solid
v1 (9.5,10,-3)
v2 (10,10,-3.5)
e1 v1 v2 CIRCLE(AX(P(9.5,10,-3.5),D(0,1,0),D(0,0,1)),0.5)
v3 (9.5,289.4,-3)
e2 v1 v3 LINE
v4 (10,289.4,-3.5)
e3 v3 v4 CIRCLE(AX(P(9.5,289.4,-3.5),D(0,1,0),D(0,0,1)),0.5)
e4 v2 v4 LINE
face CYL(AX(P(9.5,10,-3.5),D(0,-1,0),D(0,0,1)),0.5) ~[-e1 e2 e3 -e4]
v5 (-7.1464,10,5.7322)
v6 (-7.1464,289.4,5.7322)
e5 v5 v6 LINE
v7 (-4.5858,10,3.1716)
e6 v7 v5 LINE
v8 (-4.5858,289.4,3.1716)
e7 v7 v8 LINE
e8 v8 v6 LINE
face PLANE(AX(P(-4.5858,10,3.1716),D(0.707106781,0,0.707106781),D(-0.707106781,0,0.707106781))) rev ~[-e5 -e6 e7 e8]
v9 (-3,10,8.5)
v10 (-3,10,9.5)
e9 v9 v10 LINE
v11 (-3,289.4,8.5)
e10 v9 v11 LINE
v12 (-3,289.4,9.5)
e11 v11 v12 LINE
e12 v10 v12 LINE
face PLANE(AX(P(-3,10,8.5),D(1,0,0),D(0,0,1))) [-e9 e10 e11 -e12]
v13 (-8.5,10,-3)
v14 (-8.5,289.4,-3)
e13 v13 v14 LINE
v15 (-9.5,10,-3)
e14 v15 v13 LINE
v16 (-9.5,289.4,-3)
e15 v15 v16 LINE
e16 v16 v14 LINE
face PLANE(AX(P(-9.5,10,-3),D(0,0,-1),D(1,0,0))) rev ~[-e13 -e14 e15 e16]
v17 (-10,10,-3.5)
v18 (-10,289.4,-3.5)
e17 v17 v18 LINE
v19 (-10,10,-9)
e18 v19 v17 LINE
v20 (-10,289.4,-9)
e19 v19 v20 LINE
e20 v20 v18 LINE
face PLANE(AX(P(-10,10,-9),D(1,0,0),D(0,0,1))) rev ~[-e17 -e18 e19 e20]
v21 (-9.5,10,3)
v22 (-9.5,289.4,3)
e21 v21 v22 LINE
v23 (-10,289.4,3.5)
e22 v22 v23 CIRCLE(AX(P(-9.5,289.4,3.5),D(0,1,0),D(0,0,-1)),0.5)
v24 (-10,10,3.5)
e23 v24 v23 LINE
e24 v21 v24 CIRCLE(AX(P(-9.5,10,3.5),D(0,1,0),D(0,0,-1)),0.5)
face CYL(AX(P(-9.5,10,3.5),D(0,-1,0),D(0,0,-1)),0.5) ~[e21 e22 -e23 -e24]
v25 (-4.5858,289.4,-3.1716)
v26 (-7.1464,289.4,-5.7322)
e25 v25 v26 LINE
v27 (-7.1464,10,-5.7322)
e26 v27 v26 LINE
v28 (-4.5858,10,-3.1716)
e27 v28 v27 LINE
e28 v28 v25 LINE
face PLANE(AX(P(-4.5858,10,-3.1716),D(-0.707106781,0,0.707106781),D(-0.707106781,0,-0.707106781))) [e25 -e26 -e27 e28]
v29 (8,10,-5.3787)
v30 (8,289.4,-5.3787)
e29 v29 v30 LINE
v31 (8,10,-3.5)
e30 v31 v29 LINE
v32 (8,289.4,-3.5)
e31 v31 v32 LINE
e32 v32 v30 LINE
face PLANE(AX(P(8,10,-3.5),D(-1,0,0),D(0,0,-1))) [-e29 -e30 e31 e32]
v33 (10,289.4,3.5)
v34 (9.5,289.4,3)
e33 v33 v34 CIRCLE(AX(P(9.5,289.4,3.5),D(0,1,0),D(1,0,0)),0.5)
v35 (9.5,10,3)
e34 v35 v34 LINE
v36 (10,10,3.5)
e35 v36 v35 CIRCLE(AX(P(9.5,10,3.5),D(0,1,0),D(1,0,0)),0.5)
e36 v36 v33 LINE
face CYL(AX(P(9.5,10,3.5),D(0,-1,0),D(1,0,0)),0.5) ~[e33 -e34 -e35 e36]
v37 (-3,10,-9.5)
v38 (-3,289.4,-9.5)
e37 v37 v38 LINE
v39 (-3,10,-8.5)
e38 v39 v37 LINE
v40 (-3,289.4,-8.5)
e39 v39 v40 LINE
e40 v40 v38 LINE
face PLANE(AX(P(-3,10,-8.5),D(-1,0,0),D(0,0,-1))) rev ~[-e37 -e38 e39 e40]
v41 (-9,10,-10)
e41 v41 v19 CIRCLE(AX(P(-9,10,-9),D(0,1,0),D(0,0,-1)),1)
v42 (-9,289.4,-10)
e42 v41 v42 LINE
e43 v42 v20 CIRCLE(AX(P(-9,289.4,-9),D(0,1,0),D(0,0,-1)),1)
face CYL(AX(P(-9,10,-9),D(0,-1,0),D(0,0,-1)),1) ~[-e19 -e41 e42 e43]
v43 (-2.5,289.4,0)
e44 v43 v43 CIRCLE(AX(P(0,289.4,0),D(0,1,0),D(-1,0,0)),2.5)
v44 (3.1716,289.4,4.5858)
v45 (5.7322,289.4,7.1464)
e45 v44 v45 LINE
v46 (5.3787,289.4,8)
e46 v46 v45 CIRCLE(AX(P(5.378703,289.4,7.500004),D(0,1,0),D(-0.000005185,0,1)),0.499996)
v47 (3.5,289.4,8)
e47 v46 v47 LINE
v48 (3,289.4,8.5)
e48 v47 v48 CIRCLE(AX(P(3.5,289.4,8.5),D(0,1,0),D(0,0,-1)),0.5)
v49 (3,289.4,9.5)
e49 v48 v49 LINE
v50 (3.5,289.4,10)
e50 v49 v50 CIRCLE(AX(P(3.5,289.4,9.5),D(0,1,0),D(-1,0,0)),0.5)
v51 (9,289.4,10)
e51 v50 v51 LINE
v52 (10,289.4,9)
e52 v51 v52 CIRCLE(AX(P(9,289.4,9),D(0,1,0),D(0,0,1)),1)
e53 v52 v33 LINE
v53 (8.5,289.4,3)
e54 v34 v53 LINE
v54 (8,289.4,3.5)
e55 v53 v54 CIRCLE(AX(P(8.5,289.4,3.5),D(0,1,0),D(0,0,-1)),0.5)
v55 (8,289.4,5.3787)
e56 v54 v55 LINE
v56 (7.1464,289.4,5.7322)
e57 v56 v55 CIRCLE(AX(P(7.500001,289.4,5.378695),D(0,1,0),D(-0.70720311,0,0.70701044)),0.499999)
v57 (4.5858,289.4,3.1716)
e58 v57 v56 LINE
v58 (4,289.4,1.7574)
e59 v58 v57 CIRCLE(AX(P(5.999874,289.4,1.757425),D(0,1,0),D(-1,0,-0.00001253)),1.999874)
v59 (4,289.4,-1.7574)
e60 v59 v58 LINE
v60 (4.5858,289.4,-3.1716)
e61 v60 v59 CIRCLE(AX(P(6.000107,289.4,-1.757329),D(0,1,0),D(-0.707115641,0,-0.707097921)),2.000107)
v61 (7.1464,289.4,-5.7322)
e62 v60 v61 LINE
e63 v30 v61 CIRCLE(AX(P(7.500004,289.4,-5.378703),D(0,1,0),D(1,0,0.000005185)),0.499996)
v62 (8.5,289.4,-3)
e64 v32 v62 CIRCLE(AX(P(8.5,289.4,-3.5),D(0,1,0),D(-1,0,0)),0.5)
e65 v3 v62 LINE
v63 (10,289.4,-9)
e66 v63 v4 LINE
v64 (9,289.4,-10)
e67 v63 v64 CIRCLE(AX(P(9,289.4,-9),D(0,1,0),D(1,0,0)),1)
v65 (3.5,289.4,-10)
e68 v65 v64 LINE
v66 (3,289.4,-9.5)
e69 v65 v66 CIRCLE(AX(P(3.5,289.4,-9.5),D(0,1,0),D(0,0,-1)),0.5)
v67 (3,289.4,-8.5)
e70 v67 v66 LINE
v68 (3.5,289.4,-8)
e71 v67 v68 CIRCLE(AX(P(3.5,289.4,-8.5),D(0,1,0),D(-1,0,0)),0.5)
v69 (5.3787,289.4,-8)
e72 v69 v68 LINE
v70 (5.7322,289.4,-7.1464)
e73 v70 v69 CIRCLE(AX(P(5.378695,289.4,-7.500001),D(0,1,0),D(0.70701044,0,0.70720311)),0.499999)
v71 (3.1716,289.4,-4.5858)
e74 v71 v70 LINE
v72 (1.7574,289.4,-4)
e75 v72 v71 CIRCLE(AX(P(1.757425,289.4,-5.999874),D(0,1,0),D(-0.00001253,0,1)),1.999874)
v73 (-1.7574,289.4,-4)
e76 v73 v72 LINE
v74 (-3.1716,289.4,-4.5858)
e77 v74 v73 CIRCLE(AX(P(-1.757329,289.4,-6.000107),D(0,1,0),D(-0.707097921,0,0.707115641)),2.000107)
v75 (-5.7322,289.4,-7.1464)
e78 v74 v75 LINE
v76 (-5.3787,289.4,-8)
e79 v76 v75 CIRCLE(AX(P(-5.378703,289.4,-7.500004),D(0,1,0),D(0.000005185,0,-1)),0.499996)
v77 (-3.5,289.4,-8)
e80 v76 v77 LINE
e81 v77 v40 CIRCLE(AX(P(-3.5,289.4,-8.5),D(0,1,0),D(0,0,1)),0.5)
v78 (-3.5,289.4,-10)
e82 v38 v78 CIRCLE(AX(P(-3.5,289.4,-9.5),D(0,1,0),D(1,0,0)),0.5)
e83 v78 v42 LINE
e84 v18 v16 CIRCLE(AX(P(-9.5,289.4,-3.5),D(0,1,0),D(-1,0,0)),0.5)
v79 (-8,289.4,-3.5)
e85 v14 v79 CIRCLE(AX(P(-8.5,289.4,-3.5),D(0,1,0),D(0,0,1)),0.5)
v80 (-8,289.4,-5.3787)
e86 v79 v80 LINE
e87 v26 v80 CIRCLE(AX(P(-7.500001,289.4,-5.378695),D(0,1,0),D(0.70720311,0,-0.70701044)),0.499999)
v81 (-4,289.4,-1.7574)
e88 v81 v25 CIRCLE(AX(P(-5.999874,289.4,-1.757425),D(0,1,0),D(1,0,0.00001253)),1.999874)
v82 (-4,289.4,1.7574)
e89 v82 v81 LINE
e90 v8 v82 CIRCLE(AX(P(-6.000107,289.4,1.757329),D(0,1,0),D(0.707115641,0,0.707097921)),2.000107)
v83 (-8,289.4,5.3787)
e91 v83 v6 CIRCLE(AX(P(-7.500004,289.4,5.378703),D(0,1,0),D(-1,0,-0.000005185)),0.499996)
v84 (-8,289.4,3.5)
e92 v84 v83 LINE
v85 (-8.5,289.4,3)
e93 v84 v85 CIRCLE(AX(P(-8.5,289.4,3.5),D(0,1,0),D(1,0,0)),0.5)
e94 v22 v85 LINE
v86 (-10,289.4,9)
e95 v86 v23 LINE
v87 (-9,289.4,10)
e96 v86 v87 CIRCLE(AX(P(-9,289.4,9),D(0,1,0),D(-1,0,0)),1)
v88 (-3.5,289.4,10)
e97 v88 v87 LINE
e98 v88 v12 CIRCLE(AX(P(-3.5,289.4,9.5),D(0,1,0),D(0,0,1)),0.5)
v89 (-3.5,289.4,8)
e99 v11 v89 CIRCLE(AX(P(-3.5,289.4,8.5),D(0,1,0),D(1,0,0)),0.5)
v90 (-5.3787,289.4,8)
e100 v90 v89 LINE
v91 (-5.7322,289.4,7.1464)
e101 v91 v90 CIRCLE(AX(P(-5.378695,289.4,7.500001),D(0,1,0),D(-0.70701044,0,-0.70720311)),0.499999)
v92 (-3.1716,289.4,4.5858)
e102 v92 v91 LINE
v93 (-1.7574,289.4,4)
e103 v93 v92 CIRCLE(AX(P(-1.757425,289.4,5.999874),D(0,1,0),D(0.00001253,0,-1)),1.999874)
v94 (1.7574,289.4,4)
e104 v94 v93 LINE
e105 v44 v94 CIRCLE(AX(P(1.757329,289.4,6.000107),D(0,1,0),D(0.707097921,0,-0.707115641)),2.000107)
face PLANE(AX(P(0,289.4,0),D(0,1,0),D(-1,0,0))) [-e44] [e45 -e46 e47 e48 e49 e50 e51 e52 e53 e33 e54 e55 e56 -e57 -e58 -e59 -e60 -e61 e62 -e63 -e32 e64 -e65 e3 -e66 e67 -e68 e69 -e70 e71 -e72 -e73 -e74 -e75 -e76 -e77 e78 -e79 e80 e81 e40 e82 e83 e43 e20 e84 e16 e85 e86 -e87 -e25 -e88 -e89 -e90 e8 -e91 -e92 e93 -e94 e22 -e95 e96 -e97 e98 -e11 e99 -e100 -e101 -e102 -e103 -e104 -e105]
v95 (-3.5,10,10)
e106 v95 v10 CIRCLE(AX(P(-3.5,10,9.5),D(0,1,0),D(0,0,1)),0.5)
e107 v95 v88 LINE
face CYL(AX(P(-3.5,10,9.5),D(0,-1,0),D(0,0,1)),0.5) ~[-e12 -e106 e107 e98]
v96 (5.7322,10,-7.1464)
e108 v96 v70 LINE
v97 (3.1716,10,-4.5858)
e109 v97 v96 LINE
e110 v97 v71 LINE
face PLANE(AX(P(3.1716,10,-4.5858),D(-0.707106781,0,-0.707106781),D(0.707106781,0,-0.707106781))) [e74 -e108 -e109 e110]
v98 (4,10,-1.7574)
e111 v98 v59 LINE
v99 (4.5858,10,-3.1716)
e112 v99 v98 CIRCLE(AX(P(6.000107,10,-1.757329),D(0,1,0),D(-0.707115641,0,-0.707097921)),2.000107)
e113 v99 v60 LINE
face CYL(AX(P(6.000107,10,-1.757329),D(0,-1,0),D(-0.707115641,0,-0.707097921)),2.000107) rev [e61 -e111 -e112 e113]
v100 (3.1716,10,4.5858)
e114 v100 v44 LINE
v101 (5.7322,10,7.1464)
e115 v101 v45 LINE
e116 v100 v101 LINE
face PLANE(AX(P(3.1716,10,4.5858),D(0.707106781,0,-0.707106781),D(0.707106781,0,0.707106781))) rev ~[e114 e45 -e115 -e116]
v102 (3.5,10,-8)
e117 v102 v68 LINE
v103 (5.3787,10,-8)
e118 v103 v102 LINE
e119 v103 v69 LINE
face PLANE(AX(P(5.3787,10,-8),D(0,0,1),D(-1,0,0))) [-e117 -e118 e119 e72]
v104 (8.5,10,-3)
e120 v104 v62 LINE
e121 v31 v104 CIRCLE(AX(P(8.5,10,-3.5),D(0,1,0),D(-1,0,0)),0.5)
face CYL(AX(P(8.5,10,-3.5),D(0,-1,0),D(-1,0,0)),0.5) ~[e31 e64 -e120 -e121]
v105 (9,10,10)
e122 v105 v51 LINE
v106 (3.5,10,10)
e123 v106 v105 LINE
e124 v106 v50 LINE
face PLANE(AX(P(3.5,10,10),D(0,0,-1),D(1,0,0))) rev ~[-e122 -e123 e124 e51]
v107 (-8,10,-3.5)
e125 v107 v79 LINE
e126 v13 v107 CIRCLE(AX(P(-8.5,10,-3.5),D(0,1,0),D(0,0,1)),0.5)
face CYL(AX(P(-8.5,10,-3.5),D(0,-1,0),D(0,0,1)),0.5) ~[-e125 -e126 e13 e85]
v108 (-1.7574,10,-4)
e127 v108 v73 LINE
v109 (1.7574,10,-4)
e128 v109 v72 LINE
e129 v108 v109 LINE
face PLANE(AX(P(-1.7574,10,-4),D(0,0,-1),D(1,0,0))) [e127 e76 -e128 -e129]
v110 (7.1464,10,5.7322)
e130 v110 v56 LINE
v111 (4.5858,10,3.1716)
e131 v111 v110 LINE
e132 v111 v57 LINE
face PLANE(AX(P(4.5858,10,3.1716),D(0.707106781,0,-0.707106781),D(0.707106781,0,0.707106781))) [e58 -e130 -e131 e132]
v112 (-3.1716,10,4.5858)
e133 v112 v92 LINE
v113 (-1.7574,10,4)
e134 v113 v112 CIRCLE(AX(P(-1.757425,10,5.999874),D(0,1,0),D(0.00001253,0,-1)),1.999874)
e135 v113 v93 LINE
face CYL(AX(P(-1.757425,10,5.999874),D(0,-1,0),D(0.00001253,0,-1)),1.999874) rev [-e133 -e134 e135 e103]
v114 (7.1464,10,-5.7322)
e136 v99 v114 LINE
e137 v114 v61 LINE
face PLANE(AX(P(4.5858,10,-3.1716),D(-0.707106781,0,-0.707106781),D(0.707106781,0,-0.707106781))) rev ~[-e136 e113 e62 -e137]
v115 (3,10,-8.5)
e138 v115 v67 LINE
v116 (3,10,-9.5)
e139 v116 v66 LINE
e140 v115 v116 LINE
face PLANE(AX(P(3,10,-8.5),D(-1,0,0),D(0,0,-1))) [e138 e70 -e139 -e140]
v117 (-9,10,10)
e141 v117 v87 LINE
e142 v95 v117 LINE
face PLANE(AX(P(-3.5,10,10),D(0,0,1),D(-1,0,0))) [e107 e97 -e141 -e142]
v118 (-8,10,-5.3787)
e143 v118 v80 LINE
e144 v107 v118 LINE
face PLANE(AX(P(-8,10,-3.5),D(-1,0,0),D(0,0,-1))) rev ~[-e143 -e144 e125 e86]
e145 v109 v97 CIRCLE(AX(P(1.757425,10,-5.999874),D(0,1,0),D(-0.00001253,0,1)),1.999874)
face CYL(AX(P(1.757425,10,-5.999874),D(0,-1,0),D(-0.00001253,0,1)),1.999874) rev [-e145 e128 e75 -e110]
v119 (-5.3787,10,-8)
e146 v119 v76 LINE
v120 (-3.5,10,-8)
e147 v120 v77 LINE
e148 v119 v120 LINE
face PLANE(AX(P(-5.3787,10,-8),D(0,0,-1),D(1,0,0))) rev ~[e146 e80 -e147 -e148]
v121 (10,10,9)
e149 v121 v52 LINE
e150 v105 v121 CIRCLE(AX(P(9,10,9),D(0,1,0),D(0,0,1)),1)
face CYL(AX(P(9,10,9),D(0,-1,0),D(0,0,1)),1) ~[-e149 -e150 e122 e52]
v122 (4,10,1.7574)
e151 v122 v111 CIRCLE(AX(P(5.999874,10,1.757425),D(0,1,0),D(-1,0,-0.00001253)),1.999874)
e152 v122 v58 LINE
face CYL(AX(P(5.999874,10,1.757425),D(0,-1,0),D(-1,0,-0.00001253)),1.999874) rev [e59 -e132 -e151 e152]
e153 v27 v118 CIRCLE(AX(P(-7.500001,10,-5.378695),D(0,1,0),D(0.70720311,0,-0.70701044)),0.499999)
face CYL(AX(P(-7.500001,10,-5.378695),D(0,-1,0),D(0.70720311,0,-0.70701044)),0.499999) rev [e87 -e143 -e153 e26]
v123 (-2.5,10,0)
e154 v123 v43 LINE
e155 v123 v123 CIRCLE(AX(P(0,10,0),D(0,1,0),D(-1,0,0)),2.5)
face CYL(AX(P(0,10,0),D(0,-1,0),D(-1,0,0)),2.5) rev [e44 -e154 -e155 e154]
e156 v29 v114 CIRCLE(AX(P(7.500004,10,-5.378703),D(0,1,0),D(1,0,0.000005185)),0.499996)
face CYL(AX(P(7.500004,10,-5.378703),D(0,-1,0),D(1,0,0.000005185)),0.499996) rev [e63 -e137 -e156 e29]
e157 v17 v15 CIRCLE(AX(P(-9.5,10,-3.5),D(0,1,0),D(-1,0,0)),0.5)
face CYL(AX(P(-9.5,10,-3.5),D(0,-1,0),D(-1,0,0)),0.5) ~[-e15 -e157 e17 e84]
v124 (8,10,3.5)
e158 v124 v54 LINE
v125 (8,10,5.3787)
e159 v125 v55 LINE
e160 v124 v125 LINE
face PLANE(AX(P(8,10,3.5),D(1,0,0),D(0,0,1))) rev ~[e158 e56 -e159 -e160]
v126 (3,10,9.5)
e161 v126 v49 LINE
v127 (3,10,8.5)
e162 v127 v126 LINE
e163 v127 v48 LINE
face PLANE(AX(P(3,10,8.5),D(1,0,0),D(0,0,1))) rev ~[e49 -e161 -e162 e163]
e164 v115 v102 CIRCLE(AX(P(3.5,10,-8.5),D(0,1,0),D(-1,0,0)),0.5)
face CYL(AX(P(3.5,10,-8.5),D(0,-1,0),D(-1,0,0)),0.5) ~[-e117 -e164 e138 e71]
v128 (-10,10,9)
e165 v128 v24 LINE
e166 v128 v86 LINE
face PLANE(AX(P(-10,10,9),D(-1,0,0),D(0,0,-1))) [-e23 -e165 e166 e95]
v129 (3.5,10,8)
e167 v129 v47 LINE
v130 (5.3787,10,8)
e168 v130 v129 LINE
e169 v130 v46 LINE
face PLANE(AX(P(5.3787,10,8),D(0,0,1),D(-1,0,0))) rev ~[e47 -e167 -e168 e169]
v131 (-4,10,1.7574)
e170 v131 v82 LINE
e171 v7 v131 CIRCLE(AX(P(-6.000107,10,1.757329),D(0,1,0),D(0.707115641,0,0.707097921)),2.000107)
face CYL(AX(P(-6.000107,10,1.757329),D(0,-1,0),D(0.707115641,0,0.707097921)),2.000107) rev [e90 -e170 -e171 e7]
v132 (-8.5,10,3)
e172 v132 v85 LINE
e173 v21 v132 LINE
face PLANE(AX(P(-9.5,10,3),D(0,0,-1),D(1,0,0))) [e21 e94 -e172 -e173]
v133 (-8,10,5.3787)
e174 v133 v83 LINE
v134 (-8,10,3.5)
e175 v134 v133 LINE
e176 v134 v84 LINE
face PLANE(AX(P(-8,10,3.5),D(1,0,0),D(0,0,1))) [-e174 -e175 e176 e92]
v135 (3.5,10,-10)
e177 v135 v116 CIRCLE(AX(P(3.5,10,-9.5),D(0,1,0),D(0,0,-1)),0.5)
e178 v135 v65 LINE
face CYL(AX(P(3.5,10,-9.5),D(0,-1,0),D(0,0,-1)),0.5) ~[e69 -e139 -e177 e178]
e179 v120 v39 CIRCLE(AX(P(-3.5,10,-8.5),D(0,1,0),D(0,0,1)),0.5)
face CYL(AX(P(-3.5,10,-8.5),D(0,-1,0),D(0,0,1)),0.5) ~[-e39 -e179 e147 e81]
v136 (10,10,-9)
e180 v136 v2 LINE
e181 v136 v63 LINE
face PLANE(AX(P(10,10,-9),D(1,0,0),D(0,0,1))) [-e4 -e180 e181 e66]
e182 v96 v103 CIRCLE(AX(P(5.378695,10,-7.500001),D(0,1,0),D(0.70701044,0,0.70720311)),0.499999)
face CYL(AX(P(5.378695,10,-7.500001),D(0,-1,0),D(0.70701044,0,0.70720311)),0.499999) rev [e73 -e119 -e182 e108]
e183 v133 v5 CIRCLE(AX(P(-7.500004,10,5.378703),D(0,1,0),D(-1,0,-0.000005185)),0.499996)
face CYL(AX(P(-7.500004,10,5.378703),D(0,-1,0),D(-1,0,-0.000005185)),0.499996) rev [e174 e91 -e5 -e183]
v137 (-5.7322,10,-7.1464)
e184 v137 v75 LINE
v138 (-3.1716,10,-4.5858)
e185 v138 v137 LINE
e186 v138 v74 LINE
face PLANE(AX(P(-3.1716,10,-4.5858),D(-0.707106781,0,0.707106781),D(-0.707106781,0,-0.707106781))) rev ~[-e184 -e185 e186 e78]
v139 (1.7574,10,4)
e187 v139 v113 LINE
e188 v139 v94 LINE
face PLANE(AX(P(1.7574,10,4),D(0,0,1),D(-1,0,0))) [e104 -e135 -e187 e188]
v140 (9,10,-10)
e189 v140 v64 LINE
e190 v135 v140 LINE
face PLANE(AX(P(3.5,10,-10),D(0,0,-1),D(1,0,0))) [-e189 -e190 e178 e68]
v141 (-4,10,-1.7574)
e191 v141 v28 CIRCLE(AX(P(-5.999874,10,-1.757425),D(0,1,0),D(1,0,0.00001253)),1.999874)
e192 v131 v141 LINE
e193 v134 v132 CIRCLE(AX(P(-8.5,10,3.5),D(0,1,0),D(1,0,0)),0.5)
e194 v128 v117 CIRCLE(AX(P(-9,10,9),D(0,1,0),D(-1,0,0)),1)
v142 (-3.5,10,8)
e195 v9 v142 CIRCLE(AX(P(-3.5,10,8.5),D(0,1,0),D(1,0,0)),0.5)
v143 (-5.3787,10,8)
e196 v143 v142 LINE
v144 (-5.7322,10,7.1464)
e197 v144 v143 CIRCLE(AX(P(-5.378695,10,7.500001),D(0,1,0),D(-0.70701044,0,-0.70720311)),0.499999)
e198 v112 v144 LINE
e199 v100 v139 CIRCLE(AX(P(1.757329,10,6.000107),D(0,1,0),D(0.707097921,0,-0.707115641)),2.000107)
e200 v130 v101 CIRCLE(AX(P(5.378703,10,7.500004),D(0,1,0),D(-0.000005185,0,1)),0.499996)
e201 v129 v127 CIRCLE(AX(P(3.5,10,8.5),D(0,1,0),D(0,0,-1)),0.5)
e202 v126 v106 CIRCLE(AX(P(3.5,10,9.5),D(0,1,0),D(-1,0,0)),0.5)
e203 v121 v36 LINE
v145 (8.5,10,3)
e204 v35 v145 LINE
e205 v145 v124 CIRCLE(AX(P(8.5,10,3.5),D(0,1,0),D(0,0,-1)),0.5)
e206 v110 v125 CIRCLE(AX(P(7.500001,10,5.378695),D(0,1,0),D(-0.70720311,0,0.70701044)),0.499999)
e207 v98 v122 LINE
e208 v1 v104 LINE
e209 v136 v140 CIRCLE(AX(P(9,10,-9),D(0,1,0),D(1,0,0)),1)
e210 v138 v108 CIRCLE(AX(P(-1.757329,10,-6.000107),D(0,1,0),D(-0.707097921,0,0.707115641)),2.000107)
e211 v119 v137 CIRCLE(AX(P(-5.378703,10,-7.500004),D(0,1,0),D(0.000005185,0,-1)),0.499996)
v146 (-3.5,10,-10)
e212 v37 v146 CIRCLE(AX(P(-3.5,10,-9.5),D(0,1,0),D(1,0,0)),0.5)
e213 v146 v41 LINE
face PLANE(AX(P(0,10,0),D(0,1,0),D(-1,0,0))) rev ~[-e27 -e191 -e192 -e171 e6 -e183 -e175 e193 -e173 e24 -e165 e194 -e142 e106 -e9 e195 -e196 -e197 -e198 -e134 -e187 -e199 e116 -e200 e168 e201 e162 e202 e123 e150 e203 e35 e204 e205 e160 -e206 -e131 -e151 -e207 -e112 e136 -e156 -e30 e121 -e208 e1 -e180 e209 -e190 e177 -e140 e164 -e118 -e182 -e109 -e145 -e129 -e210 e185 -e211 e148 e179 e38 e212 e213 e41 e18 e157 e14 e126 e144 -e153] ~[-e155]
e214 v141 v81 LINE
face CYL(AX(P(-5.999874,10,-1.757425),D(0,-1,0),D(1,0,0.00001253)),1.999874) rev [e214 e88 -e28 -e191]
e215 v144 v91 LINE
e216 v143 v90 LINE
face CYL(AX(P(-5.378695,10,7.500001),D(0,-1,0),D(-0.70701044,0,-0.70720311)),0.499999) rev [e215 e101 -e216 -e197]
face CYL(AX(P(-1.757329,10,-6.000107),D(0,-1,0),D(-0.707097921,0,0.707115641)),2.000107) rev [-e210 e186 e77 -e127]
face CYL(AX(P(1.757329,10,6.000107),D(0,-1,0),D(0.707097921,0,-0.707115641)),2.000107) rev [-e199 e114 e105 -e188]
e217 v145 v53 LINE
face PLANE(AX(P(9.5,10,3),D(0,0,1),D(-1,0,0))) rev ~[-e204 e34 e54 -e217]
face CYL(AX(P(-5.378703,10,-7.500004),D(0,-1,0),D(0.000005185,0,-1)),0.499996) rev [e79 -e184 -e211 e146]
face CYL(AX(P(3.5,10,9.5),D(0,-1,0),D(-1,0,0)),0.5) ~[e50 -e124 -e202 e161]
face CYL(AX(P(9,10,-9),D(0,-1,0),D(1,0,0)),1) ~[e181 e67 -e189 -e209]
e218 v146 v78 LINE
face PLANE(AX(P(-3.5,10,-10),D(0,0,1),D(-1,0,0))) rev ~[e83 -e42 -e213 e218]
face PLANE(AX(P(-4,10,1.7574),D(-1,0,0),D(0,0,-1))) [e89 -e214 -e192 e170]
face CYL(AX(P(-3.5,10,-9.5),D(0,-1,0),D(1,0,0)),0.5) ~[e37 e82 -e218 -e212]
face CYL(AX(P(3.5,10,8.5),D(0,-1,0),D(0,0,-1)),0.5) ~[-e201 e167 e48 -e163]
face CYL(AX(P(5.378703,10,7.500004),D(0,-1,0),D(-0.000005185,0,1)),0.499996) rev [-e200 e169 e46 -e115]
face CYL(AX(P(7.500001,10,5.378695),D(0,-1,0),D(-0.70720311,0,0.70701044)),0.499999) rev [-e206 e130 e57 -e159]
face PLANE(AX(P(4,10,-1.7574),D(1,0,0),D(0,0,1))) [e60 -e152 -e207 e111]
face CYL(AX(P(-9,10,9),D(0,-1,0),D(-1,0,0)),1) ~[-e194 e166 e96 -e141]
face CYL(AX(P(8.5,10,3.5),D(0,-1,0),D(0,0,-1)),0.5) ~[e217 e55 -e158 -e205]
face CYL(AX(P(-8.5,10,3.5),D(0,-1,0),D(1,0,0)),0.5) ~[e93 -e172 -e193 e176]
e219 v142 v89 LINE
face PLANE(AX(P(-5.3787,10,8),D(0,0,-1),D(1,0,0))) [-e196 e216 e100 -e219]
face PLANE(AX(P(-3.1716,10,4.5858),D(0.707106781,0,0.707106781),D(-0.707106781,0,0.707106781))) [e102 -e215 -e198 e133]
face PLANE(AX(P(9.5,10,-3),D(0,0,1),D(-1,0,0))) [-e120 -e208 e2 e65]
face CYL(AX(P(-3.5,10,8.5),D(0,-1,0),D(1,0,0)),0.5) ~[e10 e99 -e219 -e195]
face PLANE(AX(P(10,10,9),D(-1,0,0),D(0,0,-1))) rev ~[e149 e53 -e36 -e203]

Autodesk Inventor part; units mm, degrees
ref_plane "Start Plane" through (0, 10, 0) normal (0, 1, 0) x (-1, 0, 0)
ref_plane "End Plane" through (0, 289.4, 0) normal (0, 1, 0) x (-1, 0, 0)
sketch "Sketch" plane through (0, 0, 0) normal (0, 1, 0) x (-1, 0, 0)
  line L0 (-1.7574, 4) -> (1.7574, 4)
  line L1 (4, 1.7574) -> (4, -1.7574)
  line L2 (1.7574, -4) -> (-1.7574, -4)
  line L3 (-4, -1.7574) -> (-4, 1.7574)
  line L4 (4.5858, -3.1716) -> (7.1464, -5.7322)
  line L5 (3.1716, -4.5858) -> (5.7322, -7.1464)
  line L6 (5.3787, -8) -> (3.5, -8)
  line L7 (3, -8.5) -> (3, -9.5)
  line L8 (3.5, -10) -> (9, -10)
  line L9 (10, -9) -> (10, -3.5)
  line L10 (9.5, -3) -> (8.5, -3)
  line L11 (8, -3.5) -> (8, -5.3787)
  line L12 (4, 0) -> (-4, 0) construction
  line L13 (0, -4) -> (0, 4) construction
  arc A0 (4, -1.7574) -> (4.5858, -3.1716) centre (6, -1.7574) ccw
  arc A1 (3.1716, -4.5858) -> (1.7574, -4) centre (1.7574, -6) ccw
  arc A2 (3.5, -8) -> (3, -8.5) centre (3.5, -8.5) ccw
  arc A3 (3, -9.5) -> (3.5, -10) centre (3.5, -9.5) ccw
  arc A4 (10, -3.5) -> (9.5, -3) centre (9.5, -3.5) ccw
  arc A5 (8.5, -3) -> (8, -3.5) centre (8.5, -3.5) ccw
  arc A6 (7.1464, -5.7322) -> (8, -5.3787) centre (7.5, -5.3787) ccw
  arc A7 (5.3787, -8) -> (5.7322, -7.1464) centre (5.3787, -7.5) ccw
  arc A8 (9, -10) -> (10, -9) centre (9, -9) ccw
  line L14 (-4.5858, -3.1716) -> (-7.1464, -5.7322)
  line L15 (-3.1716, -4.5858) -> (-5.7322, -7.1464)
  line L16 (-5.3787, -8) -> (-3.5, -8)
  line L17 (-3, -8.5) -> (-3, -9.5)
  line L18 (-3.5, -10) -> (-9, -10)
  line L19 (-10, -9) -> (-10, -3.5)
  line L20 (-9.5, -3) -> (-8.5, -3)
  line L21 (-8, -3.5) -> (-8, -5.3787)
  arc A9 (-4.5858, -3.1716) -> (-4, -1.7574) centre (-6, -1.7574) ccw
  arc A10 (-1.7574, -4) -> (-3.1716, -4.5858) centre (-1.7574, -6) ccw
  arc A11 (-3, -8.5) -> (-3.5, -8) centre (-3.5, -8.5) ccw
  arc A12 (-3.5, -10) -> (-3, -9.5) centre (-3.5, -9.5) ccw
  arc A13 (-9.5, -3) -> (-10, -3.5) centre (-9.5, -3.5) ccw
  arc A14 (-8, -3.5) -> (-8.5, -3) centre (-8.5, -3.5) ccw
  arc A15 (-8, -5.3787) -> (-7.1464, -5.7322) centre (-7.5, -5.3787) ccw
  arc A16 (-5.7322, -7.1464) -> (-5.3787, -8) centre (-5.3787, -7.5) ccw
  arc A17 (-10, -9) -> (-9, -10) centre (-9, -9) ccw
  line L22 (4.5858, 3.1716) -> (7.1464, 5.7322)
  line L23 (3.1716, 4.5858) -> (5.7322, 7.1464)
  line L24 (5.3787, 8) -> (3.5, 8)
  line L25 (3, 8.5) -> (3, 9.5)
  line L26 (3.5, 10) -> (9, 10)
  line L27 (10, 9) -> (10, 3.5)
  line L28 (9.5, 3) -> (8.5, 3)
  line L29 (8, 3.5) -> (8, 5.3787)
  arc A18 (4.5858, 3.1716) -> (4, 1.7574) centre (6, 1.7574) ccw
  arc A19 (1.7574, 4) -> (3.1716, 4.5858) centre (1.7574, 6) ccw
  arc A20 (3, 8.5) -> (3.5, 8) centre (3.5, 8.5) ccw
  arc A21 (3.5, 10) -> (3, 9.5) centre (3.5, 9.5) ccw
  arc A22 (9.5, 3) -> (10, 3.5) centre (9.5, 3.5) ccw
  arc A23 (8, 3.5) -> (8.5, 3) centre (8.5, 3.5) ccw
  arc A24 (8, 5.3787) -> (7.1464, 5.7322) centre (7.5, 5.3787) ccw
  arc A25 (5.7322, 7.1464) -> (5.3787, 8) centre (5.3787, 7.5) ccw
  arc A26 (10, 9) -> (9, 10) centre (9, 9) ccw
  line L30 (-10, 9) -> (-10, 3.5)
  arc A27 (-9, 10) -> (-10, 9) centre (-9, 9) ccw
  arc A28 (-10, 3.5) -> (-9.5, 3) centre (-9.5, 3.5) ccw
  line L31 (-9.5, 3) -> (-8.5, 3)
  arc A29 (-8.5, 3) -> (-8, 3.5) centre (-8.5, 3.5) ccw
  line L32 (-8, 3.5) -> (-8, 5.3787)
  arc A30 (-7.1464, 5.7322) -> (-8, 5.3787) centre (-7.5, 5.3787) ccw
  line L33 (-4.5858, 3.1716) -> (-7.1464, 5.7322)
  line L34 (-3.1716, 4.5858) -> (-5.7322, 7.1464)
  arc A31 (-3.1716, 4.5858) -> (-1.7574, 4) centre (-1.7574, 6) ccw
  arc A32 (-4, 1.7574) -> (-4.5858, 3.1716) centre (-6, 1.7574) ccw
  arc A33 (-5.3787, 8) -> (-5.7322, 7.1464) centre (-5.3787, 7.5) ccw
  line L35 (-5.3787, 8) -> (-3.5, 8)
  arc A34 (-3.5, 8) -> (-3, 8.5) centre (-3.5, 8.5) ccw
  line L36 (-3, 8.5) -> (-3, 9.5)
  arc A35 (-3, 9.5) -> (-3.5, 10) centre (-3.5, 9.5) ccw
  line L37 (-3.5, 10) -> (-9, 10)
  circle A36 centre (0, 0) radius 2.5
  point P0 (3, -8)
  point P1 (3, -10)
  point P2 (10, -10)
  dimension "d3" = 2
  dimension "d4" = 2
  dimension "d5" = 7
  dimension "d6" = 2
  dimension "d7" = 0.5
  dimension "d8" = 1
  dimension "d9" = 20
  dimension "d10" = 20
  dimension "d11" = 8
  dimension "d13" = 5
  dimension "d14" = 8
extrude "Body" add sketch "Sketch" along normal up to surface (279.4 mm away) from surface at 10
sketch "Sketch4" plane through (0, 0, 0) normal (0, 1, 0) x (-1, 0, 0)
  line L0 (0, 0) -> (10, 0)
ref_plane "Work Plane4" through (0, 0, 0) normal (0, 0, -1) x (-1, 0, 0)
sketch "Sketch5" plane through (0, 0, 0) normal (0, 0, -1) x (-1, 0, 0)
  line L0 (-2, 10) -> (12, 10)
  line L1 (-2, 289.4) -> (12, 289.4)
  dimension "d22" = 279.4
ref_plane "Work Plane5" through (-3.5, 10, -660.4) normal (0, -1, 0) x (1, 0, 0)
split "Split1" plane through (-3.5, 10, -660.4) removes the side toward (0, -1, 0)
ref_plane "Work Plane6" through (-304.8, 289.4, -9) normal (0, 1, 0) x (1, 0, 0)
split "Split2" plane through (-304.8, 289.4, -9) removes the side toward (0, 1, 0)
equation "\"d18\" = Length + G_OFFSET_END"
equation "\"G_L\" = d22"
equation "\"Length\" = 279.4"
equation "\"G_OFFSET_END\" = 10"
properties part number "A3.3"
